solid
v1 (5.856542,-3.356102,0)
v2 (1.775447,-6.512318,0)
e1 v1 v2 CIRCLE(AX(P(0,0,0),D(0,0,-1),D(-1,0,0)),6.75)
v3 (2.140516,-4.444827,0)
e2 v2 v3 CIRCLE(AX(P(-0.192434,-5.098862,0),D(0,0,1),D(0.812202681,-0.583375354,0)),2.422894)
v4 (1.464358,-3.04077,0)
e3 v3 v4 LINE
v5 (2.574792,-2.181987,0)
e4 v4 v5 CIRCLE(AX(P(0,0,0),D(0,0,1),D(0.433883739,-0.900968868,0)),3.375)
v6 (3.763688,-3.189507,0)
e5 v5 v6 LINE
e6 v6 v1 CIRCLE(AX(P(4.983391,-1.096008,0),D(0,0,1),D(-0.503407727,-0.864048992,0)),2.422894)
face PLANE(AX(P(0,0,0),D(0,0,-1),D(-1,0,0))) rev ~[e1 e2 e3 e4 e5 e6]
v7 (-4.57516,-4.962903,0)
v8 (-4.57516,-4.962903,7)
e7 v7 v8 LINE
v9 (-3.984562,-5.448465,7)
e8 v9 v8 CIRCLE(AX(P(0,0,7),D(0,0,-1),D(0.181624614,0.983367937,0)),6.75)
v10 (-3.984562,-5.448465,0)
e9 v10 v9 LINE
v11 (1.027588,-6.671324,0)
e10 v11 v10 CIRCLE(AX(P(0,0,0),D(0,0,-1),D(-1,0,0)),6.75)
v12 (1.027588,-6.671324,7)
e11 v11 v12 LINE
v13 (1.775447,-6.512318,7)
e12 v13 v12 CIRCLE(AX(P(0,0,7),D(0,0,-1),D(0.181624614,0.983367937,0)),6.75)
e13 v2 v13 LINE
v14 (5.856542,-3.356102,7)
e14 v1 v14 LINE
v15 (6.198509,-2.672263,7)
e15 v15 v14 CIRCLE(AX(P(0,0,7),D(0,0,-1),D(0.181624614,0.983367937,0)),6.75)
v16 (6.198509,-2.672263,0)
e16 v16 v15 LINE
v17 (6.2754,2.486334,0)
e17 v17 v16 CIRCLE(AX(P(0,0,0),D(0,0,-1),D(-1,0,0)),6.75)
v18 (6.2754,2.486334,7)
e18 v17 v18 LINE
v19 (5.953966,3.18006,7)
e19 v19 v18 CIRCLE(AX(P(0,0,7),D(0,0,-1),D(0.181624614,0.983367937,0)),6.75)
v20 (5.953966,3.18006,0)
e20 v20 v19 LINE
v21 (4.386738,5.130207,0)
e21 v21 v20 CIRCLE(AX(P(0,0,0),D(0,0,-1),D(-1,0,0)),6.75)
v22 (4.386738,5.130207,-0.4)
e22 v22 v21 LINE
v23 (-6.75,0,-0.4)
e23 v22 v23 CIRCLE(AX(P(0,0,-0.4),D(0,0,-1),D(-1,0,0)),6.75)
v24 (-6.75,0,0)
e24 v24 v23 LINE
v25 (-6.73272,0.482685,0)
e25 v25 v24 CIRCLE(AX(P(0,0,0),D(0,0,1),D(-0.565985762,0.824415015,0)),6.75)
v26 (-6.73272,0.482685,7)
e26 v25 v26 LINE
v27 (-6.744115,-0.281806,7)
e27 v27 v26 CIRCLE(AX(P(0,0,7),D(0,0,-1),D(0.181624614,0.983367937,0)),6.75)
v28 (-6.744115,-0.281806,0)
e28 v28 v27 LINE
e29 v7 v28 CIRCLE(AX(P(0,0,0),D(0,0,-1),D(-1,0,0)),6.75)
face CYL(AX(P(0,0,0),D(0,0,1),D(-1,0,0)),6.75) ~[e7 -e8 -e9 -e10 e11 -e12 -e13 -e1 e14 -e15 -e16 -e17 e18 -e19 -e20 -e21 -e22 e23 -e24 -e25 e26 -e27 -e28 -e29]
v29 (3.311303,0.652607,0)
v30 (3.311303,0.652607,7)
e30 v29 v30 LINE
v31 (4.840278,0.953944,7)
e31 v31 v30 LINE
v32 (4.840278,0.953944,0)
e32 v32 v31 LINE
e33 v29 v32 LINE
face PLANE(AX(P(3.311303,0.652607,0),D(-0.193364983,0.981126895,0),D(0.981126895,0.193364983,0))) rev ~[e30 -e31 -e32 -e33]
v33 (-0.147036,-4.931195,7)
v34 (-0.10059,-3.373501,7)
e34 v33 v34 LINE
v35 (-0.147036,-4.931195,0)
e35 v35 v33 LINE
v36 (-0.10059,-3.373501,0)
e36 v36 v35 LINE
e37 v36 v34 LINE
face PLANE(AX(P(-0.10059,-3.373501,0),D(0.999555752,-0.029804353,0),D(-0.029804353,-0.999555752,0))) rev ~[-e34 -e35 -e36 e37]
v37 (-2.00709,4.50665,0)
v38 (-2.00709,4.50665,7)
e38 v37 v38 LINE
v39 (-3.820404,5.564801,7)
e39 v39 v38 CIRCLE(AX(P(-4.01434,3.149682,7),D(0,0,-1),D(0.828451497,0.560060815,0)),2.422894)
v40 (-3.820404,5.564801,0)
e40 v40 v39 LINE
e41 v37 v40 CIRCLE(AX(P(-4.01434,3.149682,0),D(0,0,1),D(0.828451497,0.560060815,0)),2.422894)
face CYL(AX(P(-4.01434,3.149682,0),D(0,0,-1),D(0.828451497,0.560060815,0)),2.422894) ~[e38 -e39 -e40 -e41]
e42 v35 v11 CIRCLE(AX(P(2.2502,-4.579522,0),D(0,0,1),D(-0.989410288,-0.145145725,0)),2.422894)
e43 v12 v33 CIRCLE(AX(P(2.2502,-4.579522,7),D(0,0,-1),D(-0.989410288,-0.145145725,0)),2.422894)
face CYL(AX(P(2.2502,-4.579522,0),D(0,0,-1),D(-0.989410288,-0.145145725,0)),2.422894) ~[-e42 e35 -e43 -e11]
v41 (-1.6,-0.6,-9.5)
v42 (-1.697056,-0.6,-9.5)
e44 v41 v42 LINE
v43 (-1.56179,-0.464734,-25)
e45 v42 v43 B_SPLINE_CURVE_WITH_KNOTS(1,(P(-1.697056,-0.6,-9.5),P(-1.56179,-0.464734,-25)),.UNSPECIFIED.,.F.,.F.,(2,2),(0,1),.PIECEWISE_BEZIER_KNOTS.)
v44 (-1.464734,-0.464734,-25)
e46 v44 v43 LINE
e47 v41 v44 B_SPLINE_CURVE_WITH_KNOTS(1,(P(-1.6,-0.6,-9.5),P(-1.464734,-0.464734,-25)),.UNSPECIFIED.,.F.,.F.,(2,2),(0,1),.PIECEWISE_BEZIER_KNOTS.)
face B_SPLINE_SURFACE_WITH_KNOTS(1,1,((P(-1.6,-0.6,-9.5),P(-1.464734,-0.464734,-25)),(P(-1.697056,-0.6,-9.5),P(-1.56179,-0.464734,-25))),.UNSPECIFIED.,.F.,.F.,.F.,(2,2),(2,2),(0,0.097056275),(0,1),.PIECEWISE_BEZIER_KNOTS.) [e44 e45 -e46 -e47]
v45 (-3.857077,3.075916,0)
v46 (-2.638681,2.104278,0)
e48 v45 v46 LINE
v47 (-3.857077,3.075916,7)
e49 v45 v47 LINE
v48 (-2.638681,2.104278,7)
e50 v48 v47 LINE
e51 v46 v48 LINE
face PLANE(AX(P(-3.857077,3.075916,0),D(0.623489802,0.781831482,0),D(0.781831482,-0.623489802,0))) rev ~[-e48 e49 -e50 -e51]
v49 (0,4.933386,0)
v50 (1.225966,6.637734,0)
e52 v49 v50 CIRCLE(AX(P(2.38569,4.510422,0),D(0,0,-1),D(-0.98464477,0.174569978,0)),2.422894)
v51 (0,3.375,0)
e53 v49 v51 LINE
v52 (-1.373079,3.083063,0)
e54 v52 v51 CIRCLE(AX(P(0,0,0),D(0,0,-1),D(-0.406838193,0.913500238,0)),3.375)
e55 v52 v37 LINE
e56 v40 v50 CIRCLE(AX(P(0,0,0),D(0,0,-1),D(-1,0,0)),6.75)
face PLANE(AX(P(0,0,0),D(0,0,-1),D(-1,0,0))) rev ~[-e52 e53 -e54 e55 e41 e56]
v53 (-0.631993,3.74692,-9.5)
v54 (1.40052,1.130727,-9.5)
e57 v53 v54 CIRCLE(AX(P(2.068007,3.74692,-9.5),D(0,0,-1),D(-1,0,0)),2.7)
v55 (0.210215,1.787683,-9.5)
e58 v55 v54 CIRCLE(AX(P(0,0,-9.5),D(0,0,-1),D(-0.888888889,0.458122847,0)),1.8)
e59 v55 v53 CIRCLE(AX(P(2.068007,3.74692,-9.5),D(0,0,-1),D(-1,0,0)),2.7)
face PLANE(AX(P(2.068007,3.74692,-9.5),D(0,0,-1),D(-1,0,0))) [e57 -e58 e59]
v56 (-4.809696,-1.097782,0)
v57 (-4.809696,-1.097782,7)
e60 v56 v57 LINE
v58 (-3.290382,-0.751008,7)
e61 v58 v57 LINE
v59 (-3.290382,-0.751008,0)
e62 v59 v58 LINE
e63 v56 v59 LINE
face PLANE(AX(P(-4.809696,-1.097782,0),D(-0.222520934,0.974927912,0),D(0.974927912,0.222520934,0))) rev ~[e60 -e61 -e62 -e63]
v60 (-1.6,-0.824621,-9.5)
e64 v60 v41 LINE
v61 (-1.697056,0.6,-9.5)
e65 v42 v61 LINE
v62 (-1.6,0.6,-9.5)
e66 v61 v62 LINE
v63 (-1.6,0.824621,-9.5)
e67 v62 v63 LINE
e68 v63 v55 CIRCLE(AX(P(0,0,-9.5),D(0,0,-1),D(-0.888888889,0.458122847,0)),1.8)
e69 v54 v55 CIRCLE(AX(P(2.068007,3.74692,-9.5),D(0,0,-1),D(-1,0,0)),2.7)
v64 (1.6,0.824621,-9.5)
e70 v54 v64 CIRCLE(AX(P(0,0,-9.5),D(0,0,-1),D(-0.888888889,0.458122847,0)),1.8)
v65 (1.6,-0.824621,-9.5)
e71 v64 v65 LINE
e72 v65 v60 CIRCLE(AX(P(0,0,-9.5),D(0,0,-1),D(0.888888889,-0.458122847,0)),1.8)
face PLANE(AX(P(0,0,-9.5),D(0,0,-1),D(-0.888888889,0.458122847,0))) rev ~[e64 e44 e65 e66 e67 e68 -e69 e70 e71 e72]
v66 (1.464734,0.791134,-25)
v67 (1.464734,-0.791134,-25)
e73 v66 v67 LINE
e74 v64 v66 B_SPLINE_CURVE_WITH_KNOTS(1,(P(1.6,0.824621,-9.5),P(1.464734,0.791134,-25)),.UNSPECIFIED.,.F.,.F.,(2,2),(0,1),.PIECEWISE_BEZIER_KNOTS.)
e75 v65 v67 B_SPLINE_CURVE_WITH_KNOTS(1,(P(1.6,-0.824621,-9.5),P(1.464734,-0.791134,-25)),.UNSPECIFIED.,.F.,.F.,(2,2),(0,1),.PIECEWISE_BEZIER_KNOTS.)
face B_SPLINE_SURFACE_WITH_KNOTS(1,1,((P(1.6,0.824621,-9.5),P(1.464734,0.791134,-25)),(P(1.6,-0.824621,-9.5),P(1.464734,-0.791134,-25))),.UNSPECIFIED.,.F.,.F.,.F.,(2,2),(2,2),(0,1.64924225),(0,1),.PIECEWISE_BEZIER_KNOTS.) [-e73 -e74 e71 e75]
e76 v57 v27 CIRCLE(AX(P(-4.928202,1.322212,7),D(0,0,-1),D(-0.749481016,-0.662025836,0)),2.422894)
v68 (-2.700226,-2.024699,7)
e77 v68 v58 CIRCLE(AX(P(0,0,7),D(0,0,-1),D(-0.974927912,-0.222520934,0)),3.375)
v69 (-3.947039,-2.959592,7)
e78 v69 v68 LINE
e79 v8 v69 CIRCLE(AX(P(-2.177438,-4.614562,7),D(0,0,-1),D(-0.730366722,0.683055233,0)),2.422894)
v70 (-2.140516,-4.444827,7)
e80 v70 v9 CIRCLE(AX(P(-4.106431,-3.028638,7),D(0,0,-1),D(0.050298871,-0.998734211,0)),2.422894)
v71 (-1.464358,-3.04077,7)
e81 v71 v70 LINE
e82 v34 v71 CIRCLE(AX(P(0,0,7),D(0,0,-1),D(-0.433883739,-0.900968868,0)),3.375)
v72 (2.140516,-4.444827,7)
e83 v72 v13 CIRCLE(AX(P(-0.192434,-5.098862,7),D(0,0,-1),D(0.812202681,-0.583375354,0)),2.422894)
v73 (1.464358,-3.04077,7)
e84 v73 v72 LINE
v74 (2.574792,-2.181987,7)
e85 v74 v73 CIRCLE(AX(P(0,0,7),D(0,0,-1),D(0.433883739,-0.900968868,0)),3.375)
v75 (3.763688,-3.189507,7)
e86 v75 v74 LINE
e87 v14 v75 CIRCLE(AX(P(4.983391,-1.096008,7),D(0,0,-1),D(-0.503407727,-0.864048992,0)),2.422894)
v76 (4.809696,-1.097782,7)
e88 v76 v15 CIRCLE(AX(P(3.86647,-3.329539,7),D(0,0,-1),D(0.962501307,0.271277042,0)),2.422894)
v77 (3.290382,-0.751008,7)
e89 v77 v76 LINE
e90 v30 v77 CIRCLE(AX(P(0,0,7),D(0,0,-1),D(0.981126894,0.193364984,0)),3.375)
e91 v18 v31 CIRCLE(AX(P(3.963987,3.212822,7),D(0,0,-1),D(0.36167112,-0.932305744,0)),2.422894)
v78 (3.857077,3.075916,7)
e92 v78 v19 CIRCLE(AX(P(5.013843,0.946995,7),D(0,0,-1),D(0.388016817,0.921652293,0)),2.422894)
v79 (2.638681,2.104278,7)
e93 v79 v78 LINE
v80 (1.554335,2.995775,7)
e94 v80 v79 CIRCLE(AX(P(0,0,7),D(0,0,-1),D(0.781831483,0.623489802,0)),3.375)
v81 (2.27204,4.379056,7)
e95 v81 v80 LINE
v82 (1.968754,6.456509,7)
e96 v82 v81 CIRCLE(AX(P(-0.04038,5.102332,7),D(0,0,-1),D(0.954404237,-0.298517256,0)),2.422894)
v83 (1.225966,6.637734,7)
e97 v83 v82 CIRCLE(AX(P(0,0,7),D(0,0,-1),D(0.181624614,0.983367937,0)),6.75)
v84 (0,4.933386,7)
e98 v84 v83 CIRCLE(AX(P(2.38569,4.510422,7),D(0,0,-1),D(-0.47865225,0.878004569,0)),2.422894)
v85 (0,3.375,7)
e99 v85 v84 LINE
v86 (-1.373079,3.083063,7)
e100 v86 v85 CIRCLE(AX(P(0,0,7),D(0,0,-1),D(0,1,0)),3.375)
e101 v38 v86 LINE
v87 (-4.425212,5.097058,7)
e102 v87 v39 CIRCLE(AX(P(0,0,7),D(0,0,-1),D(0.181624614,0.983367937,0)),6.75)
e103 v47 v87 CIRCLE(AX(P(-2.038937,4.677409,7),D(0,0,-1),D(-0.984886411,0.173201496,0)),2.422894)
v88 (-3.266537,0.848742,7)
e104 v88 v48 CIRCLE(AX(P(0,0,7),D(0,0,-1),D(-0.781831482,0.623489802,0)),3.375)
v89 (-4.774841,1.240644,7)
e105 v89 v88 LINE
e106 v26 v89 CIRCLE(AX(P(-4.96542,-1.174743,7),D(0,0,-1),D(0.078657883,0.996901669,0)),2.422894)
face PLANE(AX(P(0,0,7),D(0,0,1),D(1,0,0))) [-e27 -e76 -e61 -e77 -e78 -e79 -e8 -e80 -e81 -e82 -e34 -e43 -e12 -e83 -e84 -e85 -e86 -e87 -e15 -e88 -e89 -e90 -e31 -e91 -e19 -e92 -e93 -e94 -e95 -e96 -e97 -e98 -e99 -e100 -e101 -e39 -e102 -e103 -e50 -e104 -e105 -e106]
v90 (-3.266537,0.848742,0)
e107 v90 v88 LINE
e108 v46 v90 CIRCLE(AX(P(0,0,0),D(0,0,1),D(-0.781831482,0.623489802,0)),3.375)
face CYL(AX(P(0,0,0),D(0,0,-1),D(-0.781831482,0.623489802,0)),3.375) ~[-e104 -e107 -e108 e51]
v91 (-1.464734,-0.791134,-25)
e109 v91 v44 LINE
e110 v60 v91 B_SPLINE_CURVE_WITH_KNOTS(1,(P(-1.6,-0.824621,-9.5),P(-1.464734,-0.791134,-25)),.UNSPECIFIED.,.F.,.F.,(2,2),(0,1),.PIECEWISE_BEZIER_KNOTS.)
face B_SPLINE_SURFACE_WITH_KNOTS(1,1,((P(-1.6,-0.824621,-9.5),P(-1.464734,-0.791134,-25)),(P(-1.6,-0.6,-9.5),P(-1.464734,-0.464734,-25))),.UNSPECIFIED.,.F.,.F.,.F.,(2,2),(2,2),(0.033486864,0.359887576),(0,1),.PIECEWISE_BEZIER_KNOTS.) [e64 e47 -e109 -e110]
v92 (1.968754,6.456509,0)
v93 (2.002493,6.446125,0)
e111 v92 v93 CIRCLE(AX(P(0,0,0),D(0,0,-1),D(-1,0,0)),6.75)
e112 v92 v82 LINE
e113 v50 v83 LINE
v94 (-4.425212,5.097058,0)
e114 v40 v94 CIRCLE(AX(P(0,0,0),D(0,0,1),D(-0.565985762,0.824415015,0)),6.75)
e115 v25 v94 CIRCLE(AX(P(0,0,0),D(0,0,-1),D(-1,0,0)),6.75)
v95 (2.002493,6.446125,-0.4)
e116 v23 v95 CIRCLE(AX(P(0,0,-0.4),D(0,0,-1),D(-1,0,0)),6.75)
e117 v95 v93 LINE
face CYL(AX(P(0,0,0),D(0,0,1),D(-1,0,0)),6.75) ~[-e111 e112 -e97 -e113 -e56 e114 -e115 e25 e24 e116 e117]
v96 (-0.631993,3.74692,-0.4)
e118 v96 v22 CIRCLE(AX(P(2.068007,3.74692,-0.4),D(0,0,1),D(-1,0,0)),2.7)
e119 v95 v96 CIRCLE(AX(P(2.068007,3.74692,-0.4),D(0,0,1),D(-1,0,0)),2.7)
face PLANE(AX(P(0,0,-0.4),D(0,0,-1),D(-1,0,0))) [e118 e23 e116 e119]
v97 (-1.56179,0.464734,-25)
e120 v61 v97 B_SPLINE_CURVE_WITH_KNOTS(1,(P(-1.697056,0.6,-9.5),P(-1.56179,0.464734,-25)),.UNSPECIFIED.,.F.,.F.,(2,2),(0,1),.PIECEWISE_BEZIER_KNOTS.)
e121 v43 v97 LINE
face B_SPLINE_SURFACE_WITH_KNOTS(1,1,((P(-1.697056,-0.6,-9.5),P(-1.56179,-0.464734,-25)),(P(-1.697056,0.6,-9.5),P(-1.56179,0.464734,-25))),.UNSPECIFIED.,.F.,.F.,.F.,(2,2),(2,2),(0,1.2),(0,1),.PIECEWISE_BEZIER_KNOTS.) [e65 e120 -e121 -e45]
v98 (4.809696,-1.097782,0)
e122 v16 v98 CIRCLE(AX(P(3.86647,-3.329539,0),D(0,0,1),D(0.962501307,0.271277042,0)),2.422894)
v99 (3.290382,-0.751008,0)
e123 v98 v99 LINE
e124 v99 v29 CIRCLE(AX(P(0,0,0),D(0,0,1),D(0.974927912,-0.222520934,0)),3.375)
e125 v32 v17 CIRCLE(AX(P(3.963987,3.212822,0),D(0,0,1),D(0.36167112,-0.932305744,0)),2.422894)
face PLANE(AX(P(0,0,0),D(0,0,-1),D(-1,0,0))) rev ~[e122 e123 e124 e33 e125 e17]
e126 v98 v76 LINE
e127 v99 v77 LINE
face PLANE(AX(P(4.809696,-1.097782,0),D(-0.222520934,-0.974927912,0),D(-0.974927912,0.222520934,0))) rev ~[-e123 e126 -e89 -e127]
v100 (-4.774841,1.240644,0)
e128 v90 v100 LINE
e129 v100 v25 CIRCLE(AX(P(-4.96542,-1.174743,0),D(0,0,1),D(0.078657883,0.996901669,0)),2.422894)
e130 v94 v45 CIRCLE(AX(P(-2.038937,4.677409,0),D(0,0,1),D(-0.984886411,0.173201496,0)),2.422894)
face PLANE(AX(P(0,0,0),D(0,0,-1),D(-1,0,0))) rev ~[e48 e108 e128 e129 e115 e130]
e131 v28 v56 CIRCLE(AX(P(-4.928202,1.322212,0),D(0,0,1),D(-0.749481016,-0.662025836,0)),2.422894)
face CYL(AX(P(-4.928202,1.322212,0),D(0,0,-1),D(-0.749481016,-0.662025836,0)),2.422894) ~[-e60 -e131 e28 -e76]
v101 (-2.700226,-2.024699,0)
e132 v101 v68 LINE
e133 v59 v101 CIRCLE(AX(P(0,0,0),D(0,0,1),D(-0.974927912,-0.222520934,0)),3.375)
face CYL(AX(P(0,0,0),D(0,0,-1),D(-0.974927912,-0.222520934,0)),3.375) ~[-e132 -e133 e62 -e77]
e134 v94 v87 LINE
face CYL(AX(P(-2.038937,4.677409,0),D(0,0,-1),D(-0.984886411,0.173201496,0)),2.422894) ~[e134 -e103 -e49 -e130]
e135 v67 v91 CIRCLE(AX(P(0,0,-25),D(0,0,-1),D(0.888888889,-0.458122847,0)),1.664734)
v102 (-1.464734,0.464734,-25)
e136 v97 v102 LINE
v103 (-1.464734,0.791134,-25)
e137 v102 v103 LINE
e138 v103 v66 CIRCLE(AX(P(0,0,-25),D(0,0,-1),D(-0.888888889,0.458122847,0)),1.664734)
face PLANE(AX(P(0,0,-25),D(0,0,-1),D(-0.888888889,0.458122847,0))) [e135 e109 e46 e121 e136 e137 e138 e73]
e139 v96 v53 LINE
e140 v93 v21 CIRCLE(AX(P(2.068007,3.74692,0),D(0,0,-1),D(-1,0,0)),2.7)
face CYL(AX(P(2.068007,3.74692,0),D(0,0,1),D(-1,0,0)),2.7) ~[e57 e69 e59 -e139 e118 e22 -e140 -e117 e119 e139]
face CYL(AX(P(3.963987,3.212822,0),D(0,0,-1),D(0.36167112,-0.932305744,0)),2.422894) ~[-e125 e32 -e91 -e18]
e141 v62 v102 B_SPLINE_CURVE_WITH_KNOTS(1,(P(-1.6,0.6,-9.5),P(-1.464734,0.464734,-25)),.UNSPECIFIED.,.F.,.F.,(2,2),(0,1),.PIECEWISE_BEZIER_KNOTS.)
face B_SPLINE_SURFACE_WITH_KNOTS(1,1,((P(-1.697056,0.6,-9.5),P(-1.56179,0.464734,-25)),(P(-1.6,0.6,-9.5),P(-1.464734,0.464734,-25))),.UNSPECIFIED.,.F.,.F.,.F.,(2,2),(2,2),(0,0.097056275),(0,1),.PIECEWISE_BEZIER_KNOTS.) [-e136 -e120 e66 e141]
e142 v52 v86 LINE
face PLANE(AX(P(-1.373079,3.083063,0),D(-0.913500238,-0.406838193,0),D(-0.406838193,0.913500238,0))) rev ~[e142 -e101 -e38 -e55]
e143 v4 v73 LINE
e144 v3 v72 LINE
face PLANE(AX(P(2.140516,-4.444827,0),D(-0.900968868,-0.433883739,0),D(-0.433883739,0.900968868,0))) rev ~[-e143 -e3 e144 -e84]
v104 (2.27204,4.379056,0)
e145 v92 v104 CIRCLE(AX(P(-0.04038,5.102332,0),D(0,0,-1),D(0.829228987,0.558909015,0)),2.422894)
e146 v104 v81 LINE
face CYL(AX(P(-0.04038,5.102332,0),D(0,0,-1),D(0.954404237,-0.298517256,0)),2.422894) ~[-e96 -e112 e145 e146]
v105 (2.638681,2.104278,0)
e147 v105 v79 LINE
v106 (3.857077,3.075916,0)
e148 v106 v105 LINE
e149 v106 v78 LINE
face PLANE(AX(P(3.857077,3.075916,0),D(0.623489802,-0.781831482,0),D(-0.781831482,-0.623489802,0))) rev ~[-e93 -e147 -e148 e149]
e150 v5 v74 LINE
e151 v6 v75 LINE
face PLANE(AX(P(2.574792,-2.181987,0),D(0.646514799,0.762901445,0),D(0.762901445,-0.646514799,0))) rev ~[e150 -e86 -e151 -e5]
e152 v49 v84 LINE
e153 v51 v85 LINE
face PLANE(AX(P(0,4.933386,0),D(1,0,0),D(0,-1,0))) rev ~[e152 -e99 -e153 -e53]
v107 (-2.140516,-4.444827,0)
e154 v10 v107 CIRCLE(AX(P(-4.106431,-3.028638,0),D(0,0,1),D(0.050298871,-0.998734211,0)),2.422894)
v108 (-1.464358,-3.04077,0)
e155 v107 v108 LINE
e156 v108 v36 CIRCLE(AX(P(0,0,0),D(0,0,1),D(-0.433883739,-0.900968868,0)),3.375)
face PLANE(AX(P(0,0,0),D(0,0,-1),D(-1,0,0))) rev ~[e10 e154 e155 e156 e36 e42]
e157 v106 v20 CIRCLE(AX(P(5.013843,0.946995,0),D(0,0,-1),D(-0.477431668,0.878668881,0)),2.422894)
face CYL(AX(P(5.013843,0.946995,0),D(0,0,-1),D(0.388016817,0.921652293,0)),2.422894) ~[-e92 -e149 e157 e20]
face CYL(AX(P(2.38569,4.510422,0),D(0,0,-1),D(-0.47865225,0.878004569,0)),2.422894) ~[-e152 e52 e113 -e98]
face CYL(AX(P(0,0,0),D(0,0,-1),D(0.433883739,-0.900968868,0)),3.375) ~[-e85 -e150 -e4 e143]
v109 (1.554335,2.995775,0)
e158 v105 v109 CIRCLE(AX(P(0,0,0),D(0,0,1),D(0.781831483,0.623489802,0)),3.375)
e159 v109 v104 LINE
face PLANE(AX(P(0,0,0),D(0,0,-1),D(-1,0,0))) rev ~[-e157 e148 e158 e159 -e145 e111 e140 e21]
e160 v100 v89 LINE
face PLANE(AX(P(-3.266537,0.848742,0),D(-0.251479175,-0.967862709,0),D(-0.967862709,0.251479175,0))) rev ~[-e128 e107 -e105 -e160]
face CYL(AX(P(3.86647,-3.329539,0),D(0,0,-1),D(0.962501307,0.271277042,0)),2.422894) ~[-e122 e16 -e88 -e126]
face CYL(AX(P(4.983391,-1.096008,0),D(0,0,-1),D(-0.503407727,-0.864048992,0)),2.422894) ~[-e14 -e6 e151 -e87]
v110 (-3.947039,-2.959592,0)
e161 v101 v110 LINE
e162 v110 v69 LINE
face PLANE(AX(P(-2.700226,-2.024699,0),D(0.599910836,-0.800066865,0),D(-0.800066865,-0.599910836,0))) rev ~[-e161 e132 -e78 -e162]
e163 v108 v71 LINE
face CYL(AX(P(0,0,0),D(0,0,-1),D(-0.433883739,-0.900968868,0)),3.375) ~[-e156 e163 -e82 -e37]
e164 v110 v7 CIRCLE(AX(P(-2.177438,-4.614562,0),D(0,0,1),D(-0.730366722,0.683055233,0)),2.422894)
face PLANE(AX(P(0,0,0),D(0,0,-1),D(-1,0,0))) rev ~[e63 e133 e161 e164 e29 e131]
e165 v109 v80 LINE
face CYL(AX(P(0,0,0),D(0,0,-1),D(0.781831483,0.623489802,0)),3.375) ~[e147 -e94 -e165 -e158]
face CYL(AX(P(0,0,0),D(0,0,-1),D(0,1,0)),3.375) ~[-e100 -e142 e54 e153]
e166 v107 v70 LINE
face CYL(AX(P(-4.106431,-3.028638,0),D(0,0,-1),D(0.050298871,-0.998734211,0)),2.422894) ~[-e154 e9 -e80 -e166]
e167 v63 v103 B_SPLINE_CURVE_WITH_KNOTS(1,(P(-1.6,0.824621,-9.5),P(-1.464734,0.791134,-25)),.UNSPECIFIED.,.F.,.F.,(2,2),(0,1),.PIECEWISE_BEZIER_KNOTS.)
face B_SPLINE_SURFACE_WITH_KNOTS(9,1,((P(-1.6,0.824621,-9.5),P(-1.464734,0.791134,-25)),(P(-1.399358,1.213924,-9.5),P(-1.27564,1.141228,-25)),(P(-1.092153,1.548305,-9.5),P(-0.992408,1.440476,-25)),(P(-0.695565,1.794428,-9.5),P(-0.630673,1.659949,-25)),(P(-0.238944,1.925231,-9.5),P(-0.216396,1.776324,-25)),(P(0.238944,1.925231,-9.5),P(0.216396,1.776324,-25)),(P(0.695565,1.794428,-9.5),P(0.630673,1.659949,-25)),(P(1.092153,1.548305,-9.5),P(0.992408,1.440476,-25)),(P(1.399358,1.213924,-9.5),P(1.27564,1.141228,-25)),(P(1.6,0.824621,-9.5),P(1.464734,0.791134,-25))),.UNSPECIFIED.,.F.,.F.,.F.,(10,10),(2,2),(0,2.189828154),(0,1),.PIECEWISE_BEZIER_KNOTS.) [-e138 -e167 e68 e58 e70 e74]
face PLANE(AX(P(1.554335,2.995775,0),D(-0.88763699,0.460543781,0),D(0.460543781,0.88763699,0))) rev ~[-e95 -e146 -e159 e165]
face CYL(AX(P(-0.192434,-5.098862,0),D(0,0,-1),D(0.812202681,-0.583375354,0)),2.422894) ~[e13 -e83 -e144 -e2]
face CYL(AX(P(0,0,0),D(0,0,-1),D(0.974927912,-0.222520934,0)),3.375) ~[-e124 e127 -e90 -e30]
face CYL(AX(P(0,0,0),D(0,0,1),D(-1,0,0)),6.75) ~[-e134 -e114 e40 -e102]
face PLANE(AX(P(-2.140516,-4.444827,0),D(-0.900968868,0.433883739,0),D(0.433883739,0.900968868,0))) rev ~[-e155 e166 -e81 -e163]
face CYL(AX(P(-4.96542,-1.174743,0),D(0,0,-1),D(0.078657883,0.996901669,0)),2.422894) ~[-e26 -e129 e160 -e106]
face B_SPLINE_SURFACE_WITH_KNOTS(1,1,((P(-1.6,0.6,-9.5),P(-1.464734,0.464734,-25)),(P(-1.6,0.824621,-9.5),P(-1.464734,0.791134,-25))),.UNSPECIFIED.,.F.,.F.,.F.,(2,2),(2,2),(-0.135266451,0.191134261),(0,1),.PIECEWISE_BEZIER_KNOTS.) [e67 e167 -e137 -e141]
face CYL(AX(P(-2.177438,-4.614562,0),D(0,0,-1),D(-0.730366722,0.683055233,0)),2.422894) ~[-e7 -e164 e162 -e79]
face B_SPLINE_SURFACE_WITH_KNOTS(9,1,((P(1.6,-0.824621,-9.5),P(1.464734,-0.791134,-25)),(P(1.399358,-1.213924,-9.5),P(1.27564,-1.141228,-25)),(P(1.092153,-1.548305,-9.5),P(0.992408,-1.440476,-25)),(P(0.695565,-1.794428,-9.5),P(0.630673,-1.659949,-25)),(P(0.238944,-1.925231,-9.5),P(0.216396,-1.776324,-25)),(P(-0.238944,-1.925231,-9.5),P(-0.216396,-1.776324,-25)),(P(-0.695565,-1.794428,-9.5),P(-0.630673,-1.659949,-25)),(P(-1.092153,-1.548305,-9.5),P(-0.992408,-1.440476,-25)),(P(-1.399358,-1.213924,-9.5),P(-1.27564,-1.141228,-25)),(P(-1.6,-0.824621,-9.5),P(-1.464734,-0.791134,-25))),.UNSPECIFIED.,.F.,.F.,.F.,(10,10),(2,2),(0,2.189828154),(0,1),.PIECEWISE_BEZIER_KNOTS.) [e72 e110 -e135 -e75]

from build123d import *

# Parameters (mm, degrees)
SKETCH2_R                   = 6.75
GEAR_OUTSIDE_DIAMETER_DEPTH = 7
GEAR_TOOTH_CUT_DEPTH        = 8
GEAR_TEETH_COUNT            = 7
SKETCH3_R                   = 3.375
GEAR_DEDENDUM_CIRCLE_DEPTH  = 7
SKETCH8_R                   = 2.7
BOSS_EXTRUDE3_DEPTH         = 9.5
BOSS_EXTRUDE2_DEPTH         = 15.5
BOSS_EXTRUDE2_TAPER         = 0.5
SKETCH9_R                   = 6.75
BOSS_EXTRUDE4_DEPTH         = 0.4


with BuildPart() as part:
    # Sketch2 → gear outside diameter (new body)
    with BuildSketch(Plane.XY):
        Circle(SKETCH2_R)
    extrude(amount=GEAR_OUTSIDE_DIAMETER_DEPTH)

    # Sketch1 → gear tooth cut (cut, through all)
    with BuildSketch(Plane.XY):
        with BuildLine():
            Line((0, 4.933386259), (0, 3.375))
            ThreePointArc((0, 3.375), (-0.701885443, 3.301209146), (-1.373078899, 3.083063304))
            Line((-1.373078899, 3.083063304), (-2.007089948, 4.506649523))
            ThreePointArc((-2.007089948, 4.506649523), (-2.793182164, 5.242332608), (-3.820403893, 5.564801352))
            ThreePointArc((-3.820403893, 5.564801352), (-1.403770885, 6.602418292), (1.225966143, 6.637733575))
            ThreePointArc((1.225966143, 6.637733575), (0.41879145, 5.925245269), (0, 4.933386259))
        make_face()
    gear_tooth_cut = extrude(amount=GEAR_TOOTH_CUT_DEPTH, mode=Mode.SUBTRACT)

    # gear teeth: gear tooth cut ×7 about axis
    gear_teeth_axis = Axis((0, 0, 0), (0, 0, 1))
    for i in range(1, GEAR_TEETH_COUNT):
        add(gear_tooth_cut.rotate(gear_teeth_axis, i * 360 / GEAR_TEETH_COUNT), mode=Mode.SUBTRACT)

    # Sketch3 → gear dedendum circle (add)
    with BuildSketch(Plane.XY):
        Circle(SKETCH3_R)
    extrude(amount=GEAR_DEDENDUM_CIRCLE_DEPTH)

    # Sketch8 → Boss-Extrude3 (add)
    with BuildSketch(Plane(origin=(0, 0, 0), x_dir=(-1, 0, 0), z_dir=(0, 0, -1))):
        with Locations((-2.068006907, 3.746919537)):
            Circle(SKETCH8_R)
    extrude(amount=BOSS_EXTRUDE3_DEPTH)

    # Sketch6 → Boss-Extrude2 (add)
    with BuildSketch(Plane(origin=(0, 0, -9.5), x_dir=(-1, 0, 0), z_dir=(0, 0, -1))):
        with BuildLine():
            ThreePointArc((1.6, 0.824621125), (0, 1.8), (-1.6, 0.824621125))
            Line((-1.6, 0.824621125), (-1.6, -0.824621125))
            ThreePointArc((-1.6, -0.824621125), (0, -1.8), (1.6, -0.824621125))
            Line((1.6, -0.824621125), (1.6, -0.6))
            Line((1.6, -0.6), (1.697056275, -0.6))
            Line((1.697056275, -0.6), (1.697056275, 0.6))
            Line((1.697056275, 0.6), (1.6, 0.6))
            Line((1.6, 0.6), (1.6, 0.824621125))
        make_face()
    extrude(amount=BOSS_EXTRUDE2_DEPTH, taper=BOSS_EXTRUDE2_TAPER)

    # Sketch9 → Boss-Extrude4 (add)
    with BuildSketch(Plane(origin=(0, 0, 0), x_dir=(-1, 0, 0), z_dir=(0, 0, -1))):
        Circle(SKETCH9_R)
    extrude(amount=BOSS_EXTRUDE4_DEPTH)


solid = part.part
